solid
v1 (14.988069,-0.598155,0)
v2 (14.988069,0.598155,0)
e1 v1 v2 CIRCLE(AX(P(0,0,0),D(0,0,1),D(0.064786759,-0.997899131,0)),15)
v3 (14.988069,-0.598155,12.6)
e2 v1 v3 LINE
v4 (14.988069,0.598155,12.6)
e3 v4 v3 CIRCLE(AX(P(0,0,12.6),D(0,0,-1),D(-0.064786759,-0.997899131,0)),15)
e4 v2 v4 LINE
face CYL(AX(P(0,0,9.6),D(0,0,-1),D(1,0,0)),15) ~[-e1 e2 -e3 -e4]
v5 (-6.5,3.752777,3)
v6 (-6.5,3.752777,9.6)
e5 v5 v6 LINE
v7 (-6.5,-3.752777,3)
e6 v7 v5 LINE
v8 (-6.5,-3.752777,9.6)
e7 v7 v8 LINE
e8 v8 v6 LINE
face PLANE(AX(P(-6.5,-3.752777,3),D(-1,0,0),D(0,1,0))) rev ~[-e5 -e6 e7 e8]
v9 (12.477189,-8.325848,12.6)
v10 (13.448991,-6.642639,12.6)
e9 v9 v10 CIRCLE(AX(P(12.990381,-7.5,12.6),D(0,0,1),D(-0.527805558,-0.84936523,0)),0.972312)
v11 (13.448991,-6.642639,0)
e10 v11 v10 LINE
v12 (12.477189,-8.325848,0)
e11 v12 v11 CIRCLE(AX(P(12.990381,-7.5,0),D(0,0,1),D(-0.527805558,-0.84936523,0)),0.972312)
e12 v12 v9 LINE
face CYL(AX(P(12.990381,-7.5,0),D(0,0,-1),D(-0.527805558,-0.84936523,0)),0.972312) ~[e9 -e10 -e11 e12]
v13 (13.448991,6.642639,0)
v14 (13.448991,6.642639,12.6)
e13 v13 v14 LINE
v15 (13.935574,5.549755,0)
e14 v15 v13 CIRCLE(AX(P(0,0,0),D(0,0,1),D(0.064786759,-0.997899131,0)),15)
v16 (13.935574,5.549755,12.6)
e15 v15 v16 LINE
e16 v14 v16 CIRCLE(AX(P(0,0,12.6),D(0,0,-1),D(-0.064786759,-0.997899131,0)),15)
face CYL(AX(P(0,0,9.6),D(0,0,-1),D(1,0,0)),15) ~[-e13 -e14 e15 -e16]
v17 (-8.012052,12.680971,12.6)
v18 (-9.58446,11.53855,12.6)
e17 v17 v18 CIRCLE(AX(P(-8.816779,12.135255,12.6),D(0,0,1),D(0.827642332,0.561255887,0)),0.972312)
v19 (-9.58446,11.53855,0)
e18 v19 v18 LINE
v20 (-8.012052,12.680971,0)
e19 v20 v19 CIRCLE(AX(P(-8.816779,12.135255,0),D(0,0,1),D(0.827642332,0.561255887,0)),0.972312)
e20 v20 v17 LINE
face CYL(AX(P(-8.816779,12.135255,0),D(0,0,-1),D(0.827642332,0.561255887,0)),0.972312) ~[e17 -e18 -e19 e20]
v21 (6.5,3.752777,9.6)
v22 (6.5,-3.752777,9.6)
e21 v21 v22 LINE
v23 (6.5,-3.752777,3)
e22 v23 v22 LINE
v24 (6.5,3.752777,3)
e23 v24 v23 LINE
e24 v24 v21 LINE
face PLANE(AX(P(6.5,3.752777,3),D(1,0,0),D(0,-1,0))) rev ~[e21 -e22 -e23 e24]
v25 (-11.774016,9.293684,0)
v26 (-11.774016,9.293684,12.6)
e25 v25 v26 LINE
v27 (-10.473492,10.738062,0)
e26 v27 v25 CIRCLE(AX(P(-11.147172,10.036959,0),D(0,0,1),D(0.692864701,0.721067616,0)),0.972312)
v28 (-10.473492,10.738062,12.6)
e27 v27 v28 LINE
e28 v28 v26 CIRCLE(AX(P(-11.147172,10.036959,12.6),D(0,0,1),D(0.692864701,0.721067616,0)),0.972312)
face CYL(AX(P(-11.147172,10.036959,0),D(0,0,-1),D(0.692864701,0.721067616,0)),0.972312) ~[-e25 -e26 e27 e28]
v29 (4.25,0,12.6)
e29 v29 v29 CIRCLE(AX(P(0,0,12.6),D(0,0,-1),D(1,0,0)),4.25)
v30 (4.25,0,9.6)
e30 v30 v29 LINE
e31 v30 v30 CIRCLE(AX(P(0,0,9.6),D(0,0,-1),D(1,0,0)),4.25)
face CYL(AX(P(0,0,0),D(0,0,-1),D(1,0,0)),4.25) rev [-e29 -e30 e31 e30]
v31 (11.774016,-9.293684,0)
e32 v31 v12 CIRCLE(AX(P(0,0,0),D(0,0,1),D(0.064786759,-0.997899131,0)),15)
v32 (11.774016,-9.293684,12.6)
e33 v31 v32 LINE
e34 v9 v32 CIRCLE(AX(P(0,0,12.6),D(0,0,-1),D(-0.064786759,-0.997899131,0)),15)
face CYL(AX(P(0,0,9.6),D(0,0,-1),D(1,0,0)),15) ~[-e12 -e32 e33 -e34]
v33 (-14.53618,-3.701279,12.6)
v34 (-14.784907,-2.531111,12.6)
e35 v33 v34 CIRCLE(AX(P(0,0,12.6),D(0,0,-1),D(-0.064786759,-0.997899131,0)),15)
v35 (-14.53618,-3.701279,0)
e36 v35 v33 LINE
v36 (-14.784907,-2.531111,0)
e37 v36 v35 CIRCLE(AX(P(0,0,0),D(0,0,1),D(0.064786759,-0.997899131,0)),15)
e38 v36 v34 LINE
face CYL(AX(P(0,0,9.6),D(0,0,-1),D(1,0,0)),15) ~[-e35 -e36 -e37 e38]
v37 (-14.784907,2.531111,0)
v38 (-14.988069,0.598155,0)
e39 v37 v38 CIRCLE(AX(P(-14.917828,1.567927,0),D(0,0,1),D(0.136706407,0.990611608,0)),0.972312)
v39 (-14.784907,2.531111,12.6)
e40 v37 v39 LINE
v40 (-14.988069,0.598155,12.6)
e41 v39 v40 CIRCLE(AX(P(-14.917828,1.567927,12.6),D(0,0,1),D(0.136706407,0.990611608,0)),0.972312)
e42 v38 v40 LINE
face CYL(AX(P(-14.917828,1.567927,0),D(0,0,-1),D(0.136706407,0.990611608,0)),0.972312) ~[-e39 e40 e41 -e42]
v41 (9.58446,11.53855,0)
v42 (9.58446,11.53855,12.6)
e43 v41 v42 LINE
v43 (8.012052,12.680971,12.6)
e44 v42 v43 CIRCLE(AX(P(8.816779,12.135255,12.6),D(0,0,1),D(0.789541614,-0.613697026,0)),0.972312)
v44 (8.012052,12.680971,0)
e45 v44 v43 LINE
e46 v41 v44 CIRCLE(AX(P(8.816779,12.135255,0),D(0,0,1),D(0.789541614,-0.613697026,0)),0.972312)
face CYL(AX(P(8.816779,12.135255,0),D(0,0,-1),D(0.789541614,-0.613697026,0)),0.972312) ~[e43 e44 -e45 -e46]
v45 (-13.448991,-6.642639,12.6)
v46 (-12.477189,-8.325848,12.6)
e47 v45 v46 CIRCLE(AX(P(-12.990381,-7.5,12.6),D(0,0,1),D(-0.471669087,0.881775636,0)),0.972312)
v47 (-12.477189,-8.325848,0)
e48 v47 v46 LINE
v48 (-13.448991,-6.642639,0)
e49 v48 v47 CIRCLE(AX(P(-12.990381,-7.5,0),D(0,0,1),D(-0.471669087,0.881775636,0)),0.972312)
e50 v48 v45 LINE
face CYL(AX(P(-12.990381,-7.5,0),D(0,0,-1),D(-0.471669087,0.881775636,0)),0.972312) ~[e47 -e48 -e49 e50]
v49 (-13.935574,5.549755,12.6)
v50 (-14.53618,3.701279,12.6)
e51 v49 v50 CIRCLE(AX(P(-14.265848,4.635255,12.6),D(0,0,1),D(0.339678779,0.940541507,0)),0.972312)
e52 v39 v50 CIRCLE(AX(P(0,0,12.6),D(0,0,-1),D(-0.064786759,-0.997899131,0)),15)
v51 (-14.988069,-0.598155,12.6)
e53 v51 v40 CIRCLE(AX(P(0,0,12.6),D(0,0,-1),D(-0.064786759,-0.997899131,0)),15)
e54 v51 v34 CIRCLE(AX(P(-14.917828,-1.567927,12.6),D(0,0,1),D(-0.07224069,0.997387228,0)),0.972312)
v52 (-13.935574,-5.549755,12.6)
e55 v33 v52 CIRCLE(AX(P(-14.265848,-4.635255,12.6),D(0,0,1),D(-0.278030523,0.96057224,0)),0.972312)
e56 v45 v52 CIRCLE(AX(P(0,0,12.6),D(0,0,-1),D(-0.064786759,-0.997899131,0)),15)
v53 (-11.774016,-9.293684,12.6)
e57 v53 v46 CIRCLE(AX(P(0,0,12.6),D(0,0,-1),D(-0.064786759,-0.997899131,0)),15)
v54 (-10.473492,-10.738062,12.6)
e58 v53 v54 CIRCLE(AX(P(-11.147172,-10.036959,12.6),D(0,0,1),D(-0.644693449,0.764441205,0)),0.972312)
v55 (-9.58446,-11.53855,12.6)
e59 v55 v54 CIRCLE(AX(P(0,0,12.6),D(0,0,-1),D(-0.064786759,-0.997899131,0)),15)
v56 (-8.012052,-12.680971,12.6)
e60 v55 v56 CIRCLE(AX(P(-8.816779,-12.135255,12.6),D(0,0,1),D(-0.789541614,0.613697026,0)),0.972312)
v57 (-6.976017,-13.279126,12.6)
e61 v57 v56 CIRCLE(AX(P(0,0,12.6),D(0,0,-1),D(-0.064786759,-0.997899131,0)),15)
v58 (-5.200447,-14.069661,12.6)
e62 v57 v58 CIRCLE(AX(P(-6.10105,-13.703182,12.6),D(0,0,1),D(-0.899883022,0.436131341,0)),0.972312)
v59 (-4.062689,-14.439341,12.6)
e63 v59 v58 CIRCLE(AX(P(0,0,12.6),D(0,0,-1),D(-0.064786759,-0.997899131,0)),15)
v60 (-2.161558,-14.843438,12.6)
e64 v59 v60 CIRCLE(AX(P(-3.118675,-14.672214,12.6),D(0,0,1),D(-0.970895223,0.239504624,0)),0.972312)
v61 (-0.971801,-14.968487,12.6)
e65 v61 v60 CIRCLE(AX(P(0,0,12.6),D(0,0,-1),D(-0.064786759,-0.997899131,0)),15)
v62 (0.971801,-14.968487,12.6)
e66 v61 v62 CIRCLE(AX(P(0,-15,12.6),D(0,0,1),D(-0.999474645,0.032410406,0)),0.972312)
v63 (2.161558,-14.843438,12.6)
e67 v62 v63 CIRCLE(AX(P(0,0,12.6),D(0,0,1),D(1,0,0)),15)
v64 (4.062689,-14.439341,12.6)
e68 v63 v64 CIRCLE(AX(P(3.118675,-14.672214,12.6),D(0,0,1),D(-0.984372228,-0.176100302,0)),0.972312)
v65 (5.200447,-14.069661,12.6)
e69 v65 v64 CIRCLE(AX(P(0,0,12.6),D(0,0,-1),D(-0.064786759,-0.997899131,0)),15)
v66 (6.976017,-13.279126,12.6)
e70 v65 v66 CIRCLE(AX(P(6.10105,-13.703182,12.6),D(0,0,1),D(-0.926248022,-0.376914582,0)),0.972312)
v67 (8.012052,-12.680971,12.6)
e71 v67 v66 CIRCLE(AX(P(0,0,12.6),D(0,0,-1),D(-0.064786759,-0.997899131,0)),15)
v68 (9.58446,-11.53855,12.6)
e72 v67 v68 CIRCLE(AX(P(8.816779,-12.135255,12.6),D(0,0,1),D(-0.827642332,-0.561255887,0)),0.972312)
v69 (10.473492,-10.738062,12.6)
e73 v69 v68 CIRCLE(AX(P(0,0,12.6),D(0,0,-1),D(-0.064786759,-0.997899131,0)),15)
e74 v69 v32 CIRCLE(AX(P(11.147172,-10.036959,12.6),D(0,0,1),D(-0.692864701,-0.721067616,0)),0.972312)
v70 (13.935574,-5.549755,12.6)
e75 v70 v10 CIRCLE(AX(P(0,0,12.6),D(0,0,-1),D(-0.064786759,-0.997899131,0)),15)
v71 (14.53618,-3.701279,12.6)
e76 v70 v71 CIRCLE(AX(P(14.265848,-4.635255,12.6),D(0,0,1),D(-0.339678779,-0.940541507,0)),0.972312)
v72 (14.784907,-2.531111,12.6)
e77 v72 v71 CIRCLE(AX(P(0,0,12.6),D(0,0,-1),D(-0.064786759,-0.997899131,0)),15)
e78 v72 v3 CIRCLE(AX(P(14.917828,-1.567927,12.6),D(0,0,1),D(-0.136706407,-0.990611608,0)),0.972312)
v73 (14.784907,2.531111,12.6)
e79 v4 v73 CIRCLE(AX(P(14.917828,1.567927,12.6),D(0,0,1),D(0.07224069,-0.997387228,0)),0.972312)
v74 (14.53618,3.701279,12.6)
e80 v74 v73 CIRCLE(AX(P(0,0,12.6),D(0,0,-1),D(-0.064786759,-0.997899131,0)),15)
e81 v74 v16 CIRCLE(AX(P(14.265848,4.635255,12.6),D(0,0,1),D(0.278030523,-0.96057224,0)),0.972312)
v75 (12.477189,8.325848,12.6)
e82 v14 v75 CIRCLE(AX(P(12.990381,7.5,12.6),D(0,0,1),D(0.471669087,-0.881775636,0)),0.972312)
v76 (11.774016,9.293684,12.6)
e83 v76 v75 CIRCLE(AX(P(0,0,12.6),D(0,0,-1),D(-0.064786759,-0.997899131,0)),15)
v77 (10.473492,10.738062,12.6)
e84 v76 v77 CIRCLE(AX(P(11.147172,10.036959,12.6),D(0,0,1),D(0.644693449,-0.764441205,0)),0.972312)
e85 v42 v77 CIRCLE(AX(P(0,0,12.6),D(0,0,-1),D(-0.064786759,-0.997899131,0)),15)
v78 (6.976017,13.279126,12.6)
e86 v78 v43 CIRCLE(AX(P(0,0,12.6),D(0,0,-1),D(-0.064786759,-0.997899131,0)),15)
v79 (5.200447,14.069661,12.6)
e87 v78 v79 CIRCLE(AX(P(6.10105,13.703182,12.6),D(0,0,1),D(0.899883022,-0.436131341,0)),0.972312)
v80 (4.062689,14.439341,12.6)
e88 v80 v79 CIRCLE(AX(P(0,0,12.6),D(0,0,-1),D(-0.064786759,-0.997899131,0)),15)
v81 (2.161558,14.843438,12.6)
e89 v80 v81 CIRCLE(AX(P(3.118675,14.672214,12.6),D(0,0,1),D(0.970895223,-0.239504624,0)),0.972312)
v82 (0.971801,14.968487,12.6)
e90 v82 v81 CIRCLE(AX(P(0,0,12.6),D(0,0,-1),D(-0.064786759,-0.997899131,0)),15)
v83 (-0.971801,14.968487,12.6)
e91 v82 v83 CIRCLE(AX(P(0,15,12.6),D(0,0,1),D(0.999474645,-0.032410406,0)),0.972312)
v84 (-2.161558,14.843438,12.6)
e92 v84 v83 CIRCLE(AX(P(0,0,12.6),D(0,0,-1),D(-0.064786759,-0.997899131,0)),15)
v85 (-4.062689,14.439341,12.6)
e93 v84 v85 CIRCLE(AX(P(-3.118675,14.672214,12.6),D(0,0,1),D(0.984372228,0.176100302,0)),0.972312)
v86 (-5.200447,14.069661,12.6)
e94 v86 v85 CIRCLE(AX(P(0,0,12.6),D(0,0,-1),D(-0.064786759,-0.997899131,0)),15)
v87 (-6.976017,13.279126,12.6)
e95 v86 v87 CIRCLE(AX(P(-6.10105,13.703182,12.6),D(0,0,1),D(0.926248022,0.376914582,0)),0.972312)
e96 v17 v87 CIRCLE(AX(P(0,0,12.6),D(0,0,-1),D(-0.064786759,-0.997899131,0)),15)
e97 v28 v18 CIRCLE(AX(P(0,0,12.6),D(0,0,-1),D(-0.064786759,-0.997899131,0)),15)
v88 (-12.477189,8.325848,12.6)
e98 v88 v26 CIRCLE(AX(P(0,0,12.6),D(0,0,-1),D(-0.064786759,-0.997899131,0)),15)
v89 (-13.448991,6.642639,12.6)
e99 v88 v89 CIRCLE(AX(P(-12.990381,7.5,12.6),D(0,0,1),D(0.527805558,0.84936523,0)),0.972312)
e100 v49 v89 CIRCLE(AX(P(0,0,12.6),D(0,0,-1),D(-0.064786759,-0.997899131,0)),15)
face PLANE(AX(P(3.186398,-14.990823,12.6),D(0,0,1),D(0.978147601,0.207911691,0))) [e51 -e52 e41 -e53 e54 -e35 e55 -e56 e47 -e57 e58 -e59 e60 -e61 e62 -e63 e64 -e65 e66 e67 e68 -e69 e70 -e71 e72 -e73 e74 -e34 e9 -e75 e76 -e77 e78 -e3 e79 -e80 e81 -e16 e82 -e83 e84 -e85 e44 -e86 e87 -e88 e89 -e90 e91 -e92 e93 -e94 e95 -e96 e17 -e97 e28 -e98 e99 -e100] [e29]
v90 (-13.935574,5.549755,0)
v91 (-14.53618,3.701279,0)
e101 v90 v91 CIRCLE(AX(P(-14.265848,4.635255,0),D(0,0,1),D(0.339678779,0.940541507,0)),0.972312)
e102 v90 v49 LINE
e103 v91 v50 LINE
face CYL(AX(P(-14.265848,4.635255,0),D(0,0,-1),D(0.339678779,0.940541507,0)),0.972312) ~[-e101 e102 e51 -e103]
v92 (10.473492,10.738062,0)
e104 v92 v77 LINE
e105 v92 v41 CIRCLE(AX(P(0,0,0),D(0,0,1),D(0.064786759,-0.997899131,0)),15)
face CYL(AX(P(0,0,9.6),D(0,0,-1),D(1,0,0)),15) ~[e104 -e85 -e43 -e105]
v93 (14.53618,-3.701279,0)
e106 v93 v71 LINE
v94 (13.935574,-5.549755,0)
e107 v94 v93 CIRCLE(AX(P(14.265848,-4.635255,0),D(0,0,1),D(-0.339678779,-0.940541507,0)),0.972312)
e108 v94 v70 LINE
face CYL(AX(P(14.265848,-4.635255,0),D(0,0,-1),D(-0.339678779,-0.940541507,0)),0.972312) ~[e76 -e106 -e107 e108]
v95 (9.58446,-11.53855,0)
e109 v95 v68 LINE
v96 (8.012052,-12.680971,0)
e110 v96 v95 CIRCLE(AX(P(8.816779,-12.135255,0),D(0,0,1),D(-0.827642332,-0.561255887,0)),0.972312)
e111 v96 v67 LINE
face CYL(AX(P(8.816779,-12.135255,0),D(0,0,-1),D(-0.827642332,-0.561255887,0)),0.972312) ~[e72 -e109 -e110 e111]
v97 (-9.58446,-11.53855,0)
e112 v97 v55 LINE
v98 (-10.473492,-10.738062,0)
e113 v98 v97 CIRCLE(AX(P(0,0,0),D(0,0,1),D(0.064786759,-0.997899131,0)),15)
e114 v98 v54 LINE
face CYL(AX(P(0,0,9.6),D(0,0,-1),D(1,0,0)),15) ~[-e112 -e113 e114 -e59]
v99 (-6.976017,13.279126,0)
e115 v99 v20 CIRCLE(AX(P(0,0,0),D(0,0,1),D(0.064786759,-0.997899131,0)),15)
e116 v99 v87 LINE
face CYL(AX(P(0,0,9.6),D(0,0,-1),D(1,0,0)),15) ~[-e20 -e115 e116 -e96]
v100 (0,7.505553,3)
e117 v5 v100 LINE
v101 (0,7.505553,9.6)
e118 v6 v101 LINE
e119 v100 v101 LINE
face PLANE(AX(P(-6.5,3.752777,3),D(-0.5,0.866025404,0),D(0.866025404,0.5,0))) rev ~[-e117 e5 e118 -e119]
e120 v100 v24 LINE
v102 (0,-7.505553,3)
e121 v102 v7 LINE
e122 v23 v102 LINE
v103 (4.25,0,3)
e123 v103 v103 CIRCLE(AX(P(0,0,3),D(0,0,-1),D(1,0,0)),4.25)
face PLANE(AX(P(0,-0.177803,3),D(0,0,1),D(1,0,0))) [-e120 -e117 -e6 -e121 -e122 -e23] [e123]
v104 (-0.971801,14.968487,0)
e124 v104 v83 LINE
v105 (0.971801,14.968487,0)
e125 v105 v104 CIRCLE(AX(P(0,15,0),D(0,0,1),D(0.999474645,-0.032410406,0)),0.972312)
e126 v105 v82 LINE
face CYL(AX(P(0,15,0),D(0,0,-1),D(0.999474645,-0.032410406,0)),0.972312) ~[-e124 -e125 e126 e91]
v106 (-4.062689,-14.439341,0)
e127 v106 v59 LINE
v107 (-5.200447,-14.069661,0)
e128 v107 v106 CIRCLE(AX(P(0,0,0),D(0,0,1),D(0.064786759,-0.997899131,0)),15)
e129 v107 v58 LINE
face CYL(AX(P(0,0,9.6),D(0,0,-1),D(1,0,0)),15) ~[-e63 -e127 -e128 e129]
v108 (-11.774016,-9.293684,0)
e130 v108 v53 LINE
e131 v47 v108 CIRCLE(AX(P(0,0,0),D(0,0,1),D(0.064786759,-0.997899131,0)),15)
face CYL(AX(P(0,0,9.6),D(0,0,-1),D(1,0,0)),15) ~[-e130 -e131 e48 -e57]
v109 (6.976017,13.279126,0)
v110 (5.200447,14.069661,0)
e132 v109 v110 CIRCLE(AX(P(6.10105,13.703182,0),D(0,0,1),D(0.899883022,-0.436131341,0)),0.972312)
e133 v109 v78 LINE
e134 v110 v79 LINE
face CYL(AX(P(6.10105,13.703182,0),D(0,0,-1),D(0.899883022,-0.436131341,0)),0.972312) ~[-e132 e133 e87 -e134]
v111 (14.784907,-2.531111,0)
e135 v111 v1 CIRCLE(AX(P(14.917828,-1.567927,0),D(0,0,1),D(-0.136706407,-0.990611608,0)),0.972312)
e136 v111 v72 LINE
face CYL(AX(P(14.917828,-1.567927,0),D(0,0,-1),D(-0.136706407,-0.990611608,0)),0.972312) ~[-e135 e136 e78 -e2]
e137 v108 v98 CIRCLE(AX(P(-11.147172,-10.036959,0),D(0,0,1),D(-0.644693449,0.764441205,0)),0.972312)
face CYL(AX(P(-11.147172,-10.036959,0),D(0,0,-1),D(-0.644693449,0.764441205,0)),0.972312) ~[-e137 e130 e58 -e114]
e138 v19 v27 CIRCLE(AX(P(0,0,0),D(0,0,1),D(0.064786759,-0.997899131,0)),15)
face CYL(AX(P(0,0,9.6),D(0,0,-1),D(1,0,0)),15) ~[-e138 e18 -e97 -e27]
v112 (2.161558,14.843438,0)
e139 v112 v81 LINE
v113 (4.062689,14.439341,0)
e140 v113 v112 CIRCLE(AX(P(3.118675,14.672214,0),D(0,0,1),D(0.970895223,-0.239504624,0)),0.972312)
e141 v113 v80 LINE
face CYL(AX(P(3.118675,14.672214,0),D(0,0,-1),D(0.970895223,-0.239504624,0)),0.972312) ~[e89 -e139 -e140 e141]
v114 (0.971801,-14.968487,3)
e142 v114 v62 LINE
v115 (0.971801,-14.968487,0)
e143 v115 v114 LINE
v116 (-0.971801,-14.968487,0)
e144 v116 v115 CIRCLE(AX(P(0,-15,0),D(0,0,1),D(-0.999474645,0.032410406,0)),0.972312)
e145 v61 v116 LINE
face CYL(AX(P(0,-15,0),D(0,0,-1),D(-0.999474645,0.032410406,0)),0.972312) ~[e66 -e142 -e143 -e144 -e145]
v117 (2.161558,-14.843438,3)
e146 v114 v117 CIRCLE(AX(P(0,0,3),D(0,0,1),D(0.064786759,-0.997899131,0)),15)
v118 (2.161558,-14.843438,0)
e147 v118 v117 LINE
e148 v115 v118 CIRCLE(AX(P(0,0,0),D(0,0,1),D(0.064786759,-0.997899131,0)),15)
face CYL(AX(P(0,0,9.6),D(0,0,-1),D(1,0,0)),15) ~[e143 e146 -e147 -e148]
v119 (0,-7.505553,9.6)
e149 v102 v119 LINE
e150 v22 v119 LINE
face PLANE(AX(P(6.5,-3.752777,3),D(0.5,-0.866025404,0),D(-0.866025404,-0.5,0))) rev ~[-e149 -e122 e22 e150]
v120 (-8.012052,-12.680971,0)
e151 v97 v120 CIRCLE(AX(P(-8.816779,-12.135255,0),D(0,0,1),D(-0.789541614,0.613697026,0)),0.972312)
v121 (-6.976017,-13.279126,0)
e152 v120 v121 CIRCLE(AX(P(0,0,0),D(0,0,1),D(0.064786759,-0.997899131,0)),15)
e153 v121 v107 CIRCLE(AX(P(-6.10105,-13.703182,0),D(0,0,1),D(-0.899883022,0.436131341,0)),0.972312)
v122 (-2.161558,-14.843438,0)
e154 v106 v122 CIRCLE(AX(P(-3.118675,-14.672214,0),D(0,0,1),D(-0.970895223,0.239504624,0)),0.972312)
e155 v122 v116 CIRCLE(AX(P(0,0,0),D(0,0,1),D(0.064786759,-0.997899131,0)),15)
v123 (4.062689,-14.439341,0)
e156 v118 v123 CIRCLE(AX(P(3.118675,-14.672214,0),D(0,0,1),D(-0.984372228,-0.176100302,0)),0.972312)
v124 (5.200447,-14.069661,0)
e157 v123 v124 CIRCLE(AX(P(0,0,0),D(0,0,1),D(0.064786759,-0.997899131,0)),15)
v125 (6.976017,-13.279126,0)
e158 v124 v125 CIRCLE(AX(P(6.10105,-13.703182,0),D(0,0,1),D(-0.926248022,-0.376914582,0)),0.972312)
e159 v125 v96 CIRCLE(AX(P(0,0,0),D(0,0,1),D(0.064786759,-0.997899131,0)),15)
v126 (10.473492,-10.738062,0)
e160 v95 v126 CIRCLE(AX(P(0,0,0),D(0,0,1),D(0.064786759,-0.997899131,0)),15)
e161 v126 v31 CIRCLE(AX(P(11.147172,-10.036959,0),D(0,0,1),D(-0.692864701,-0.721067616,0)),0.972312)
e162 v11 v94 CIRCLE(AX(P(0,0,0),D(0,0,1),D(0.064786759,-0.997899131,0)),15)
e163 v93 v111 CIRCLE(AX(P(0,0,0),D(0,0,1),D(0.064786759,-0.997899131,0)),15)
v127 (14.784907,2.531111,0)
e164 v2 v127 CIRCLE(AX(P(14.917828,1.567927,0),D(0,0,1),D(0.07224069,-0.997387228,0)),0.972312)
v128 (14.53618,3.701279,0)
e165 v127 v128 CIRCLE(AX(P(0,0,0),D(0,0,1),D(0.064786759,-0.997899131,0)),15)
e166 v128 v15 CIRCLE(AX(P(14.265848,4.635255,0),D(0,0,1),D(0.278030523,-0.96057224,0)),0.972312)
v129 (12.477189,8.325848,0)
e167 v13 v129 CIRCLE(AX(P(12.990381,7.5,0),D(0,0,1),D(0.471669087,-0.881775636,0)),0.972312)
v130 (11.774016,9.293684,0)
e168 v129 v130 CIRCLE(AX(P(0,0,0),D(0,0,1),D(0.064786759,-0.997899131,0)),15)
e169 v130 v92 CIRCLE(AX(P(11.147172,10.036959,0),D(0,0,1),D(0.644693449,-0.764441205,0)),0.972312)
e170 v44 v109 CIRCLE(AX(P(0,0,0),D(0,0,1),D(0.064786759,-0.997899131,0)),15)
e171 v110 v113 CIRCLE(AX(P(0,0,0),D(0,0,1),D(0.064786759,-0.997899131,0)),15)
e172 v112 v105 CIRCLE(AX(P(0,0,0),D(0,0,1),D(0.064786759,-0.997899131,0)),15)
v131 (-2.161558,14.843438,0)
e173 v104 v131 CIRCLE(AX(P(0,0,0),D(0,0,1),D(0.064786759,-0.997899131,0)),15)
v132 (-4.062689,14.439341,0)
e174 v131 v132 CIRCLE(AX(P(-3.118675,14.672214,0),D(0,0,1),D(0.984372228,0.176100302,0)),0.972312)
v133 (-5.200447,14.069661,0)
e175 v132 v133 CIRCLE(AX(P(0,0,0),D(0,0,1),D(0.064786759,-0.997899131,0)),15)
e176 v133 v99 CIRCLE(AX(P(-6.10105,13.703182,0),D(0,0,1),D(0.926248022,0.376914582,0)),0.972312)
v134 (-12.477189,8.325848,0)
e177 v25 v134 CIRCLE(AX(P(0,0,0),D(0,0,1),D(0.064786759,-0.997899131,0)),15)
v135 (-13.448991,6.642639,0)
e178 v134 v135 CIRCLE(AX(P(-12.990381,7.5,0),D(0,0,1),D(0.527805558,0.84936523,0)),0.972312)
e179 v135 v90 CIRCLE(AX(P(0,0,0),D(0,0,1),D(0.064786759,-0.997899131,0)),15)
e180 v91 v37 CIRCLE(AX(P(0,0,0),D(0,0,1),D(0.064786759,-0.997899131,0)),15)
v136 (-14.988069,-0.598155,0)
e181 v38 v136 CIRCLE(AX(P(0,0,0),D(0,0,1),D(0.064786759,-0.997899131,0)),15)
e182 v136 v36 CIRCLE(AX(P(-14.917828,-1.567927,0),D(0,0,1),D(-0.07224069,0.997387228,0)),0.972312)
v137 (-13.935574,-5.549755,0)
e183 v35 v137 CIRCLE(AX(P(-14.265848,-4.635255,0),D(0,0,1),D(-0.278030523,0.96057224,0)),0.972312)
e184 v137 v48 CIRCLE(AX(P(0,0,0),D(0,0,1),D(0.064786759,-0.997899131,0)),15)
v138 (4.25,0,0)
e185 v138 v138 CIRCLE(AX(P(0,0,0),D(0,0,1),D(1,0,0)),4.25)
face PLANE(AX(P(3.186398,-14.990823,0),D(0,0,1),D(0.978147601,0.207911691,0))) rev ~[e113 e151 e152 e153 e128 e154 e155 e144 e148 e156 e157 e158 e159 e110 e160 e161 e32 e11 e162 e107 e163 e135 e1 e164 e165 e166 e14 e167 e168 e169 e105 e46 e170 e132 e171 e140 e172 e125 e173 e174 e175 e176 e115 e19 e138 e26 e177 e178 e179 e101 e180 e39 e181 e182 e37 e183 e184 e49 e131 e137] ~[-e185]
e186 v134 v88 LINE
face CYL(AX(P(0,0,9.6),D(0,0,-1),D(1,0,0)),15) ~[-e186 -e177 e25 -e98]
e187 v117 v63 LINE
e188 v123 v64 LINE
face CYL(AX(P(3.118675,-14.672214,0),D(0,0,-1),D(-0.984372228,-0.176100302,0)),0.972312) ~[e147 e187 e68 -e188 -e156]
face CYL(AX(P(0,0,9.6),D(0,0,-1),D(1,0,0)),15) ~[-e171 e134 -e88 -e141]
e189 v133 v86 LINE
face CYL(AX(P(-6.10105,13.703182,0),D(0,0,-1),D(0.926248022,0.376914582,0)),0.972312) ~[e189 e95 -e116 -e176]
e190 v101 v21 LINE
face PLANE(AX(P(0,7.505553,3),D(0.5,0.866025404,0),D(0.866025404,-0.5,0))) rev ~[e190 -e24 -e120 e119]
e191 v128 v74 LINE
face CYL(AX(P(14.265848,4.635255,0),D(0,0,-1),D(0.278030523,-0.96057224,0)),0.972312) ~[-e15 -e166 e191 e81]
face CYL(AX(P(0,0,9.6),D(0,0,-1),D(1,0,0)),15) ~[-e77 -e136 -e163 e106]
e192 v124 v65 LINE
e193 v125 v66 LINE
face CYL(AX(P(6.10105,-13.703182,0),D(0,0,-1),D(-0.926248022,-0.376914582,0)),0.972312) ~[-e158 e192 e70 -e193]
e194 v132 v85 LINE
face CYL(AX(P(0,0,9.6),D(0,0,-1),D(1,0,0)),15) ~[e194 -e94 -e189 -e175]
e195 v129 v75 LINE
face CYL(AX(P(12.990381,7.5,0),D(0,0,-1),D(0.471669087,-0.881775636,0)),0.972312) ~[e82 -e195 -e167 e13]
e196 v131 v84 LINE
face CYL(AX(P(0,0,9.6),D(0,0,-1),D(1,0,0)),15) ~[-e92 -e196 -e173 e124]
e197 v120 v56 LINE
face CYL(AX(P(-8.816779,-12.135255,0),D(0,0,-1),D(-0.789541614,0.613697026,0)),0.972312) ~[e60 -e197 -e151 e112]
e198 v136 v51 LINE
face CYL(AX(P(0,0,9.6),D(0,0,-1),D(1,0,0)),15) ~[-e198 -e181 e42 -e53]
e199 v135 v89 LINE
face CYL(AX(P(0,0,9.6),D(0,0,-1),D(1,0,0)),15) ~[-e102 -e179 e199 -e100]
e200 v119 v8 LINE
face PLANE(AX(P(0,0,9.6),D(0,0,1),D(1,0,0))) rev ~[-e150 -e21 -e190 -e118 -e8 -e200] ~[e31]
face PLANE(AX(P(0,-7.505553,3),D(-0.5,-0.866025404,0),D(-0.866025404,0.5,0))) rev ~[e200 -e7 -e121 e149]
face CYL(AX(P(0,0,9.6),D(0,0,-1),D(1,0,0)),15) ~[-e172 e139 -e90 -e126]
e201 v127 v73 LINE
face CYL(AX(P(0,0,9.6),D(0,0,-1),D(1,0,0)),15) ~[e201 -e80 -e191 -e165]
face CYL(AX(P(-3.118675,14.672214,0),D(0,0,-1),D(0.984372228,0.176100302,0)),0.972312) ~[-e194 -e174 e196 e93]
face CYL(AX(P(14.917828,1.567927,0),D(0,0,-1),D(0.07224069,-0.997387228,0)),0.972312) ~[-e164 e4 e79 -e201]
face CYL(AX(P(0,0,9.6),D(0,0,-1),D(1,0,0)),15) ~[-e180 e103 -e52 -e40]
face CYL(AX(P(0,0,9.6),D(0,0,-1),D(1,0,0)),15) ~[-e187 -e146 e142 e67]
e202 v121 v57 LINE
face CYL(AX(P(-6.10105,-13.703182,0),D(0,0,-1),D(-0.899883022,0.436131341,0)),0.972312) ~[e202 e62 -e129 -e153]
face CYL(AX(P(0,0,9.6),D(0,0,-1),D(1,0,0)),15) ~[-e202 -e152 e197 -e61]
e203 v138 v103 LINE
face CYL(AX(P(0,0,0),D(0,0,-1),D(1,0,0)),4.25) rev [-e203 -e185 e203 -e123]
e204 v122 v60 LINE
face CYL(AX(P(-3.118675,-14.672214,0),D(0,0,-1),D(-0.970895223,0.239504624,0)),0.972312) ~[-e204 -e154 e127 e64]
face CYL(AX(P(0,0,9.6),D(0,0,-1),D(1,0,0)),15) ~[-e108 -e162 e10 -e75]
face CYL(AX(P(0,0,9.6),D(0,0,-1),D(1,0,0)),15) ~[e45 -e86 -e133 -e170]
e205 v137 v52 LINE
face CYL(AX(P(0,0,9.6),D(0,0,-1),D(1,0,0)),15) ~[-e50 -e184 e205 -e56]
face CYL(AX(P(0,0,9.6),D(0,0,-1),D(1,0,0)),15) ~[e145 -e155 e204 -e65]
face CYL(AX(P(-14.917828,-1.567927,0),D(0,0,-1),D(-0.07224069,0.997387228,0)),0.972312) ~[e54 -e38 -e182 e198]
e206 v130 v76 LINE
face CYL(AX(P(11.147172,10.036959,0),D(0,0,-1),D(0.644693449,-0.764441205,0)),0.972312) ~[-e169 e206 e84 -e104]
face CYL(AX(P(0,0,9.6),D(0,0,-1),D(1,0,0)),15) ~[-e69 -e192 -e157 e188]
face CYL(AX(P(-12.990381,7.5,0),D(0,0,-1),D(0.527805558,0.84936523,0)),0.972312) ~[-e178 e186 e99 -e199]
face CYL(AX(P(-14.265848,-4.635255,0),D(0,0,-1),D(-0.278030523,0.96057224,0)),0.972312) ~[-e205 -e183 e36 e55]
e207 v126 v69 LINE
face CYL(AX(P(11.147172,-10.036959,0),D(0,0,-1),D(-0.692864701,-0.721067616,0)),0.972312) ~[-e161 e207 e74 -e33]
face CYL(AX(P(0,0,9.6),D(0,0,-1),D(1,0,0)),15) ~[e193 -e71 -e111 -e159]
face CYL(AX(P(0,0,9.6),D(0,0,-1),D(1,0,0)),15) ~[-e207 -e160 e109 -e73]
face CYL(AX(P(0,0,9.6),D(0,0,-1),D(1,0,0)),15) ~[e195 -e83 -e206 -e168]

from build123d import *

# Parameters (mm, degrees)
F0_R     = 4.25
F1_DEPTH = 3
F2_R     = 15
F3_DEPTH = 6.6
F4_R     = 15
F5_DEPTH = 3
F6_DEPTH = 12.6
F7_COUNT = 30
F8_DEPTH = 25


with BuildPart() as f1:
    # F0 (on Top) → F1 (new body)
    with BuildSketch(Plane.XY):
        with BuildLine():
            ThreePointArc((0.9718013796, -14.9684869669), (10.9447937553, -10.2572652132), (15, 0))
            ThreePointArc((15, 0), (-10.2572652132, 10.9447937553), (-0.9718013796, -14.9684869669))
            ThreePointArc((-0.9718013796, -14.9684869669), (0, -15), (0.9718013796, -14.9684869669))
        make_face()
        Polygon((0, 7.5055534995), (6.5, 3.7527767497), (6.5, -3.7527767497), (0, -7.5055534995), (-6.5, -3.7527767497), (-6.5, 3.7527767497), align=None, mode=Mode.SUBTRACT)
        Polygon((6.5, -3.7527767497), (6.5, 3.7527767497), (0, 7.5055534995), (-6.5, 3.7527767497), (-6.5, -3.7527767497), (0, -7.5055534995), align=None)
        Circle(F0_R, mode=Mode.SUBTRACT)
        Circle(F0_R)
    extrude(amount=F1_DEPTH)

    # F2 (on face) → F3 (join)
    with BuildSketch(Plane.XY.offset(3)):
        Circle(F2_R)
        Polygon((-6.5, -3.7527767497), (-6.5, 3.7527767497), (0, 7.5055534995), (6.5, 3.7527767497), (6.5, -3.7527767497), (0, -7.5055534995), align=None, mode=Mode.SUBTRACT)
    extrude(amount=F3_DEPTH)

    # F4 (on face) → F5 (join)
    with BuildSketch(Plane.XY.offset(9.6)):
        Circle(F4_R)
        Polygon((6.5, -3.7527767497), (0, -7.5055534995), (-6.5, -3.7527767497), (-6.5, 3.7527767497), (0, 7.5055534995), (6.5, 3.7527767497), align=None, mode=Mode.SUBTRACT)
        Polygon((-6.5, -3.7527767497), (0, -7.5055534995), (6.5, -3.7527767497), (6.5, 3.7527767497), (0, 7.5055534995), (-6.5, 3.7527767497), align=None)
    extrude(amount=F5_DEPTH)



with BuildPart() as f6:
    # F0 (on Top) → F6 (new body, through all)
    with BuildSketch(Plane.XY):
        with BuildLine():
            ThreePointArc((0.9718013796, -14.9684869669), (0, -15), (-0.9718013796, -14.9684869669))
            ThreePointArc((-0.9718013796, -14.9684869669), (0, -15.9723121888), (0.9718013796, -14.9684869669))
        make_face()
    extrude(amount=F6_DEPTH)


with BuildPart() as f1_1:
    add(f1.part)

    add(f6.part)  # F7 merges F6
    # F7: F6 ×30 about axis
    f7_axis = Axis((0, 0, 0), (0, 0, 1))
    for i in range(1, F7_COUNT):
        add(f6.part.rotate(f7_axis, i * 360 / F7_COUNT))

    # F0 (on Top) → F8 (cut)
    with BuildSketch(Plane.XY):
        Circle(F0_R)
    extrude(amount=F8_DEPTH, mode=Mode.SUBTRACT)


solid = f1_1.part
